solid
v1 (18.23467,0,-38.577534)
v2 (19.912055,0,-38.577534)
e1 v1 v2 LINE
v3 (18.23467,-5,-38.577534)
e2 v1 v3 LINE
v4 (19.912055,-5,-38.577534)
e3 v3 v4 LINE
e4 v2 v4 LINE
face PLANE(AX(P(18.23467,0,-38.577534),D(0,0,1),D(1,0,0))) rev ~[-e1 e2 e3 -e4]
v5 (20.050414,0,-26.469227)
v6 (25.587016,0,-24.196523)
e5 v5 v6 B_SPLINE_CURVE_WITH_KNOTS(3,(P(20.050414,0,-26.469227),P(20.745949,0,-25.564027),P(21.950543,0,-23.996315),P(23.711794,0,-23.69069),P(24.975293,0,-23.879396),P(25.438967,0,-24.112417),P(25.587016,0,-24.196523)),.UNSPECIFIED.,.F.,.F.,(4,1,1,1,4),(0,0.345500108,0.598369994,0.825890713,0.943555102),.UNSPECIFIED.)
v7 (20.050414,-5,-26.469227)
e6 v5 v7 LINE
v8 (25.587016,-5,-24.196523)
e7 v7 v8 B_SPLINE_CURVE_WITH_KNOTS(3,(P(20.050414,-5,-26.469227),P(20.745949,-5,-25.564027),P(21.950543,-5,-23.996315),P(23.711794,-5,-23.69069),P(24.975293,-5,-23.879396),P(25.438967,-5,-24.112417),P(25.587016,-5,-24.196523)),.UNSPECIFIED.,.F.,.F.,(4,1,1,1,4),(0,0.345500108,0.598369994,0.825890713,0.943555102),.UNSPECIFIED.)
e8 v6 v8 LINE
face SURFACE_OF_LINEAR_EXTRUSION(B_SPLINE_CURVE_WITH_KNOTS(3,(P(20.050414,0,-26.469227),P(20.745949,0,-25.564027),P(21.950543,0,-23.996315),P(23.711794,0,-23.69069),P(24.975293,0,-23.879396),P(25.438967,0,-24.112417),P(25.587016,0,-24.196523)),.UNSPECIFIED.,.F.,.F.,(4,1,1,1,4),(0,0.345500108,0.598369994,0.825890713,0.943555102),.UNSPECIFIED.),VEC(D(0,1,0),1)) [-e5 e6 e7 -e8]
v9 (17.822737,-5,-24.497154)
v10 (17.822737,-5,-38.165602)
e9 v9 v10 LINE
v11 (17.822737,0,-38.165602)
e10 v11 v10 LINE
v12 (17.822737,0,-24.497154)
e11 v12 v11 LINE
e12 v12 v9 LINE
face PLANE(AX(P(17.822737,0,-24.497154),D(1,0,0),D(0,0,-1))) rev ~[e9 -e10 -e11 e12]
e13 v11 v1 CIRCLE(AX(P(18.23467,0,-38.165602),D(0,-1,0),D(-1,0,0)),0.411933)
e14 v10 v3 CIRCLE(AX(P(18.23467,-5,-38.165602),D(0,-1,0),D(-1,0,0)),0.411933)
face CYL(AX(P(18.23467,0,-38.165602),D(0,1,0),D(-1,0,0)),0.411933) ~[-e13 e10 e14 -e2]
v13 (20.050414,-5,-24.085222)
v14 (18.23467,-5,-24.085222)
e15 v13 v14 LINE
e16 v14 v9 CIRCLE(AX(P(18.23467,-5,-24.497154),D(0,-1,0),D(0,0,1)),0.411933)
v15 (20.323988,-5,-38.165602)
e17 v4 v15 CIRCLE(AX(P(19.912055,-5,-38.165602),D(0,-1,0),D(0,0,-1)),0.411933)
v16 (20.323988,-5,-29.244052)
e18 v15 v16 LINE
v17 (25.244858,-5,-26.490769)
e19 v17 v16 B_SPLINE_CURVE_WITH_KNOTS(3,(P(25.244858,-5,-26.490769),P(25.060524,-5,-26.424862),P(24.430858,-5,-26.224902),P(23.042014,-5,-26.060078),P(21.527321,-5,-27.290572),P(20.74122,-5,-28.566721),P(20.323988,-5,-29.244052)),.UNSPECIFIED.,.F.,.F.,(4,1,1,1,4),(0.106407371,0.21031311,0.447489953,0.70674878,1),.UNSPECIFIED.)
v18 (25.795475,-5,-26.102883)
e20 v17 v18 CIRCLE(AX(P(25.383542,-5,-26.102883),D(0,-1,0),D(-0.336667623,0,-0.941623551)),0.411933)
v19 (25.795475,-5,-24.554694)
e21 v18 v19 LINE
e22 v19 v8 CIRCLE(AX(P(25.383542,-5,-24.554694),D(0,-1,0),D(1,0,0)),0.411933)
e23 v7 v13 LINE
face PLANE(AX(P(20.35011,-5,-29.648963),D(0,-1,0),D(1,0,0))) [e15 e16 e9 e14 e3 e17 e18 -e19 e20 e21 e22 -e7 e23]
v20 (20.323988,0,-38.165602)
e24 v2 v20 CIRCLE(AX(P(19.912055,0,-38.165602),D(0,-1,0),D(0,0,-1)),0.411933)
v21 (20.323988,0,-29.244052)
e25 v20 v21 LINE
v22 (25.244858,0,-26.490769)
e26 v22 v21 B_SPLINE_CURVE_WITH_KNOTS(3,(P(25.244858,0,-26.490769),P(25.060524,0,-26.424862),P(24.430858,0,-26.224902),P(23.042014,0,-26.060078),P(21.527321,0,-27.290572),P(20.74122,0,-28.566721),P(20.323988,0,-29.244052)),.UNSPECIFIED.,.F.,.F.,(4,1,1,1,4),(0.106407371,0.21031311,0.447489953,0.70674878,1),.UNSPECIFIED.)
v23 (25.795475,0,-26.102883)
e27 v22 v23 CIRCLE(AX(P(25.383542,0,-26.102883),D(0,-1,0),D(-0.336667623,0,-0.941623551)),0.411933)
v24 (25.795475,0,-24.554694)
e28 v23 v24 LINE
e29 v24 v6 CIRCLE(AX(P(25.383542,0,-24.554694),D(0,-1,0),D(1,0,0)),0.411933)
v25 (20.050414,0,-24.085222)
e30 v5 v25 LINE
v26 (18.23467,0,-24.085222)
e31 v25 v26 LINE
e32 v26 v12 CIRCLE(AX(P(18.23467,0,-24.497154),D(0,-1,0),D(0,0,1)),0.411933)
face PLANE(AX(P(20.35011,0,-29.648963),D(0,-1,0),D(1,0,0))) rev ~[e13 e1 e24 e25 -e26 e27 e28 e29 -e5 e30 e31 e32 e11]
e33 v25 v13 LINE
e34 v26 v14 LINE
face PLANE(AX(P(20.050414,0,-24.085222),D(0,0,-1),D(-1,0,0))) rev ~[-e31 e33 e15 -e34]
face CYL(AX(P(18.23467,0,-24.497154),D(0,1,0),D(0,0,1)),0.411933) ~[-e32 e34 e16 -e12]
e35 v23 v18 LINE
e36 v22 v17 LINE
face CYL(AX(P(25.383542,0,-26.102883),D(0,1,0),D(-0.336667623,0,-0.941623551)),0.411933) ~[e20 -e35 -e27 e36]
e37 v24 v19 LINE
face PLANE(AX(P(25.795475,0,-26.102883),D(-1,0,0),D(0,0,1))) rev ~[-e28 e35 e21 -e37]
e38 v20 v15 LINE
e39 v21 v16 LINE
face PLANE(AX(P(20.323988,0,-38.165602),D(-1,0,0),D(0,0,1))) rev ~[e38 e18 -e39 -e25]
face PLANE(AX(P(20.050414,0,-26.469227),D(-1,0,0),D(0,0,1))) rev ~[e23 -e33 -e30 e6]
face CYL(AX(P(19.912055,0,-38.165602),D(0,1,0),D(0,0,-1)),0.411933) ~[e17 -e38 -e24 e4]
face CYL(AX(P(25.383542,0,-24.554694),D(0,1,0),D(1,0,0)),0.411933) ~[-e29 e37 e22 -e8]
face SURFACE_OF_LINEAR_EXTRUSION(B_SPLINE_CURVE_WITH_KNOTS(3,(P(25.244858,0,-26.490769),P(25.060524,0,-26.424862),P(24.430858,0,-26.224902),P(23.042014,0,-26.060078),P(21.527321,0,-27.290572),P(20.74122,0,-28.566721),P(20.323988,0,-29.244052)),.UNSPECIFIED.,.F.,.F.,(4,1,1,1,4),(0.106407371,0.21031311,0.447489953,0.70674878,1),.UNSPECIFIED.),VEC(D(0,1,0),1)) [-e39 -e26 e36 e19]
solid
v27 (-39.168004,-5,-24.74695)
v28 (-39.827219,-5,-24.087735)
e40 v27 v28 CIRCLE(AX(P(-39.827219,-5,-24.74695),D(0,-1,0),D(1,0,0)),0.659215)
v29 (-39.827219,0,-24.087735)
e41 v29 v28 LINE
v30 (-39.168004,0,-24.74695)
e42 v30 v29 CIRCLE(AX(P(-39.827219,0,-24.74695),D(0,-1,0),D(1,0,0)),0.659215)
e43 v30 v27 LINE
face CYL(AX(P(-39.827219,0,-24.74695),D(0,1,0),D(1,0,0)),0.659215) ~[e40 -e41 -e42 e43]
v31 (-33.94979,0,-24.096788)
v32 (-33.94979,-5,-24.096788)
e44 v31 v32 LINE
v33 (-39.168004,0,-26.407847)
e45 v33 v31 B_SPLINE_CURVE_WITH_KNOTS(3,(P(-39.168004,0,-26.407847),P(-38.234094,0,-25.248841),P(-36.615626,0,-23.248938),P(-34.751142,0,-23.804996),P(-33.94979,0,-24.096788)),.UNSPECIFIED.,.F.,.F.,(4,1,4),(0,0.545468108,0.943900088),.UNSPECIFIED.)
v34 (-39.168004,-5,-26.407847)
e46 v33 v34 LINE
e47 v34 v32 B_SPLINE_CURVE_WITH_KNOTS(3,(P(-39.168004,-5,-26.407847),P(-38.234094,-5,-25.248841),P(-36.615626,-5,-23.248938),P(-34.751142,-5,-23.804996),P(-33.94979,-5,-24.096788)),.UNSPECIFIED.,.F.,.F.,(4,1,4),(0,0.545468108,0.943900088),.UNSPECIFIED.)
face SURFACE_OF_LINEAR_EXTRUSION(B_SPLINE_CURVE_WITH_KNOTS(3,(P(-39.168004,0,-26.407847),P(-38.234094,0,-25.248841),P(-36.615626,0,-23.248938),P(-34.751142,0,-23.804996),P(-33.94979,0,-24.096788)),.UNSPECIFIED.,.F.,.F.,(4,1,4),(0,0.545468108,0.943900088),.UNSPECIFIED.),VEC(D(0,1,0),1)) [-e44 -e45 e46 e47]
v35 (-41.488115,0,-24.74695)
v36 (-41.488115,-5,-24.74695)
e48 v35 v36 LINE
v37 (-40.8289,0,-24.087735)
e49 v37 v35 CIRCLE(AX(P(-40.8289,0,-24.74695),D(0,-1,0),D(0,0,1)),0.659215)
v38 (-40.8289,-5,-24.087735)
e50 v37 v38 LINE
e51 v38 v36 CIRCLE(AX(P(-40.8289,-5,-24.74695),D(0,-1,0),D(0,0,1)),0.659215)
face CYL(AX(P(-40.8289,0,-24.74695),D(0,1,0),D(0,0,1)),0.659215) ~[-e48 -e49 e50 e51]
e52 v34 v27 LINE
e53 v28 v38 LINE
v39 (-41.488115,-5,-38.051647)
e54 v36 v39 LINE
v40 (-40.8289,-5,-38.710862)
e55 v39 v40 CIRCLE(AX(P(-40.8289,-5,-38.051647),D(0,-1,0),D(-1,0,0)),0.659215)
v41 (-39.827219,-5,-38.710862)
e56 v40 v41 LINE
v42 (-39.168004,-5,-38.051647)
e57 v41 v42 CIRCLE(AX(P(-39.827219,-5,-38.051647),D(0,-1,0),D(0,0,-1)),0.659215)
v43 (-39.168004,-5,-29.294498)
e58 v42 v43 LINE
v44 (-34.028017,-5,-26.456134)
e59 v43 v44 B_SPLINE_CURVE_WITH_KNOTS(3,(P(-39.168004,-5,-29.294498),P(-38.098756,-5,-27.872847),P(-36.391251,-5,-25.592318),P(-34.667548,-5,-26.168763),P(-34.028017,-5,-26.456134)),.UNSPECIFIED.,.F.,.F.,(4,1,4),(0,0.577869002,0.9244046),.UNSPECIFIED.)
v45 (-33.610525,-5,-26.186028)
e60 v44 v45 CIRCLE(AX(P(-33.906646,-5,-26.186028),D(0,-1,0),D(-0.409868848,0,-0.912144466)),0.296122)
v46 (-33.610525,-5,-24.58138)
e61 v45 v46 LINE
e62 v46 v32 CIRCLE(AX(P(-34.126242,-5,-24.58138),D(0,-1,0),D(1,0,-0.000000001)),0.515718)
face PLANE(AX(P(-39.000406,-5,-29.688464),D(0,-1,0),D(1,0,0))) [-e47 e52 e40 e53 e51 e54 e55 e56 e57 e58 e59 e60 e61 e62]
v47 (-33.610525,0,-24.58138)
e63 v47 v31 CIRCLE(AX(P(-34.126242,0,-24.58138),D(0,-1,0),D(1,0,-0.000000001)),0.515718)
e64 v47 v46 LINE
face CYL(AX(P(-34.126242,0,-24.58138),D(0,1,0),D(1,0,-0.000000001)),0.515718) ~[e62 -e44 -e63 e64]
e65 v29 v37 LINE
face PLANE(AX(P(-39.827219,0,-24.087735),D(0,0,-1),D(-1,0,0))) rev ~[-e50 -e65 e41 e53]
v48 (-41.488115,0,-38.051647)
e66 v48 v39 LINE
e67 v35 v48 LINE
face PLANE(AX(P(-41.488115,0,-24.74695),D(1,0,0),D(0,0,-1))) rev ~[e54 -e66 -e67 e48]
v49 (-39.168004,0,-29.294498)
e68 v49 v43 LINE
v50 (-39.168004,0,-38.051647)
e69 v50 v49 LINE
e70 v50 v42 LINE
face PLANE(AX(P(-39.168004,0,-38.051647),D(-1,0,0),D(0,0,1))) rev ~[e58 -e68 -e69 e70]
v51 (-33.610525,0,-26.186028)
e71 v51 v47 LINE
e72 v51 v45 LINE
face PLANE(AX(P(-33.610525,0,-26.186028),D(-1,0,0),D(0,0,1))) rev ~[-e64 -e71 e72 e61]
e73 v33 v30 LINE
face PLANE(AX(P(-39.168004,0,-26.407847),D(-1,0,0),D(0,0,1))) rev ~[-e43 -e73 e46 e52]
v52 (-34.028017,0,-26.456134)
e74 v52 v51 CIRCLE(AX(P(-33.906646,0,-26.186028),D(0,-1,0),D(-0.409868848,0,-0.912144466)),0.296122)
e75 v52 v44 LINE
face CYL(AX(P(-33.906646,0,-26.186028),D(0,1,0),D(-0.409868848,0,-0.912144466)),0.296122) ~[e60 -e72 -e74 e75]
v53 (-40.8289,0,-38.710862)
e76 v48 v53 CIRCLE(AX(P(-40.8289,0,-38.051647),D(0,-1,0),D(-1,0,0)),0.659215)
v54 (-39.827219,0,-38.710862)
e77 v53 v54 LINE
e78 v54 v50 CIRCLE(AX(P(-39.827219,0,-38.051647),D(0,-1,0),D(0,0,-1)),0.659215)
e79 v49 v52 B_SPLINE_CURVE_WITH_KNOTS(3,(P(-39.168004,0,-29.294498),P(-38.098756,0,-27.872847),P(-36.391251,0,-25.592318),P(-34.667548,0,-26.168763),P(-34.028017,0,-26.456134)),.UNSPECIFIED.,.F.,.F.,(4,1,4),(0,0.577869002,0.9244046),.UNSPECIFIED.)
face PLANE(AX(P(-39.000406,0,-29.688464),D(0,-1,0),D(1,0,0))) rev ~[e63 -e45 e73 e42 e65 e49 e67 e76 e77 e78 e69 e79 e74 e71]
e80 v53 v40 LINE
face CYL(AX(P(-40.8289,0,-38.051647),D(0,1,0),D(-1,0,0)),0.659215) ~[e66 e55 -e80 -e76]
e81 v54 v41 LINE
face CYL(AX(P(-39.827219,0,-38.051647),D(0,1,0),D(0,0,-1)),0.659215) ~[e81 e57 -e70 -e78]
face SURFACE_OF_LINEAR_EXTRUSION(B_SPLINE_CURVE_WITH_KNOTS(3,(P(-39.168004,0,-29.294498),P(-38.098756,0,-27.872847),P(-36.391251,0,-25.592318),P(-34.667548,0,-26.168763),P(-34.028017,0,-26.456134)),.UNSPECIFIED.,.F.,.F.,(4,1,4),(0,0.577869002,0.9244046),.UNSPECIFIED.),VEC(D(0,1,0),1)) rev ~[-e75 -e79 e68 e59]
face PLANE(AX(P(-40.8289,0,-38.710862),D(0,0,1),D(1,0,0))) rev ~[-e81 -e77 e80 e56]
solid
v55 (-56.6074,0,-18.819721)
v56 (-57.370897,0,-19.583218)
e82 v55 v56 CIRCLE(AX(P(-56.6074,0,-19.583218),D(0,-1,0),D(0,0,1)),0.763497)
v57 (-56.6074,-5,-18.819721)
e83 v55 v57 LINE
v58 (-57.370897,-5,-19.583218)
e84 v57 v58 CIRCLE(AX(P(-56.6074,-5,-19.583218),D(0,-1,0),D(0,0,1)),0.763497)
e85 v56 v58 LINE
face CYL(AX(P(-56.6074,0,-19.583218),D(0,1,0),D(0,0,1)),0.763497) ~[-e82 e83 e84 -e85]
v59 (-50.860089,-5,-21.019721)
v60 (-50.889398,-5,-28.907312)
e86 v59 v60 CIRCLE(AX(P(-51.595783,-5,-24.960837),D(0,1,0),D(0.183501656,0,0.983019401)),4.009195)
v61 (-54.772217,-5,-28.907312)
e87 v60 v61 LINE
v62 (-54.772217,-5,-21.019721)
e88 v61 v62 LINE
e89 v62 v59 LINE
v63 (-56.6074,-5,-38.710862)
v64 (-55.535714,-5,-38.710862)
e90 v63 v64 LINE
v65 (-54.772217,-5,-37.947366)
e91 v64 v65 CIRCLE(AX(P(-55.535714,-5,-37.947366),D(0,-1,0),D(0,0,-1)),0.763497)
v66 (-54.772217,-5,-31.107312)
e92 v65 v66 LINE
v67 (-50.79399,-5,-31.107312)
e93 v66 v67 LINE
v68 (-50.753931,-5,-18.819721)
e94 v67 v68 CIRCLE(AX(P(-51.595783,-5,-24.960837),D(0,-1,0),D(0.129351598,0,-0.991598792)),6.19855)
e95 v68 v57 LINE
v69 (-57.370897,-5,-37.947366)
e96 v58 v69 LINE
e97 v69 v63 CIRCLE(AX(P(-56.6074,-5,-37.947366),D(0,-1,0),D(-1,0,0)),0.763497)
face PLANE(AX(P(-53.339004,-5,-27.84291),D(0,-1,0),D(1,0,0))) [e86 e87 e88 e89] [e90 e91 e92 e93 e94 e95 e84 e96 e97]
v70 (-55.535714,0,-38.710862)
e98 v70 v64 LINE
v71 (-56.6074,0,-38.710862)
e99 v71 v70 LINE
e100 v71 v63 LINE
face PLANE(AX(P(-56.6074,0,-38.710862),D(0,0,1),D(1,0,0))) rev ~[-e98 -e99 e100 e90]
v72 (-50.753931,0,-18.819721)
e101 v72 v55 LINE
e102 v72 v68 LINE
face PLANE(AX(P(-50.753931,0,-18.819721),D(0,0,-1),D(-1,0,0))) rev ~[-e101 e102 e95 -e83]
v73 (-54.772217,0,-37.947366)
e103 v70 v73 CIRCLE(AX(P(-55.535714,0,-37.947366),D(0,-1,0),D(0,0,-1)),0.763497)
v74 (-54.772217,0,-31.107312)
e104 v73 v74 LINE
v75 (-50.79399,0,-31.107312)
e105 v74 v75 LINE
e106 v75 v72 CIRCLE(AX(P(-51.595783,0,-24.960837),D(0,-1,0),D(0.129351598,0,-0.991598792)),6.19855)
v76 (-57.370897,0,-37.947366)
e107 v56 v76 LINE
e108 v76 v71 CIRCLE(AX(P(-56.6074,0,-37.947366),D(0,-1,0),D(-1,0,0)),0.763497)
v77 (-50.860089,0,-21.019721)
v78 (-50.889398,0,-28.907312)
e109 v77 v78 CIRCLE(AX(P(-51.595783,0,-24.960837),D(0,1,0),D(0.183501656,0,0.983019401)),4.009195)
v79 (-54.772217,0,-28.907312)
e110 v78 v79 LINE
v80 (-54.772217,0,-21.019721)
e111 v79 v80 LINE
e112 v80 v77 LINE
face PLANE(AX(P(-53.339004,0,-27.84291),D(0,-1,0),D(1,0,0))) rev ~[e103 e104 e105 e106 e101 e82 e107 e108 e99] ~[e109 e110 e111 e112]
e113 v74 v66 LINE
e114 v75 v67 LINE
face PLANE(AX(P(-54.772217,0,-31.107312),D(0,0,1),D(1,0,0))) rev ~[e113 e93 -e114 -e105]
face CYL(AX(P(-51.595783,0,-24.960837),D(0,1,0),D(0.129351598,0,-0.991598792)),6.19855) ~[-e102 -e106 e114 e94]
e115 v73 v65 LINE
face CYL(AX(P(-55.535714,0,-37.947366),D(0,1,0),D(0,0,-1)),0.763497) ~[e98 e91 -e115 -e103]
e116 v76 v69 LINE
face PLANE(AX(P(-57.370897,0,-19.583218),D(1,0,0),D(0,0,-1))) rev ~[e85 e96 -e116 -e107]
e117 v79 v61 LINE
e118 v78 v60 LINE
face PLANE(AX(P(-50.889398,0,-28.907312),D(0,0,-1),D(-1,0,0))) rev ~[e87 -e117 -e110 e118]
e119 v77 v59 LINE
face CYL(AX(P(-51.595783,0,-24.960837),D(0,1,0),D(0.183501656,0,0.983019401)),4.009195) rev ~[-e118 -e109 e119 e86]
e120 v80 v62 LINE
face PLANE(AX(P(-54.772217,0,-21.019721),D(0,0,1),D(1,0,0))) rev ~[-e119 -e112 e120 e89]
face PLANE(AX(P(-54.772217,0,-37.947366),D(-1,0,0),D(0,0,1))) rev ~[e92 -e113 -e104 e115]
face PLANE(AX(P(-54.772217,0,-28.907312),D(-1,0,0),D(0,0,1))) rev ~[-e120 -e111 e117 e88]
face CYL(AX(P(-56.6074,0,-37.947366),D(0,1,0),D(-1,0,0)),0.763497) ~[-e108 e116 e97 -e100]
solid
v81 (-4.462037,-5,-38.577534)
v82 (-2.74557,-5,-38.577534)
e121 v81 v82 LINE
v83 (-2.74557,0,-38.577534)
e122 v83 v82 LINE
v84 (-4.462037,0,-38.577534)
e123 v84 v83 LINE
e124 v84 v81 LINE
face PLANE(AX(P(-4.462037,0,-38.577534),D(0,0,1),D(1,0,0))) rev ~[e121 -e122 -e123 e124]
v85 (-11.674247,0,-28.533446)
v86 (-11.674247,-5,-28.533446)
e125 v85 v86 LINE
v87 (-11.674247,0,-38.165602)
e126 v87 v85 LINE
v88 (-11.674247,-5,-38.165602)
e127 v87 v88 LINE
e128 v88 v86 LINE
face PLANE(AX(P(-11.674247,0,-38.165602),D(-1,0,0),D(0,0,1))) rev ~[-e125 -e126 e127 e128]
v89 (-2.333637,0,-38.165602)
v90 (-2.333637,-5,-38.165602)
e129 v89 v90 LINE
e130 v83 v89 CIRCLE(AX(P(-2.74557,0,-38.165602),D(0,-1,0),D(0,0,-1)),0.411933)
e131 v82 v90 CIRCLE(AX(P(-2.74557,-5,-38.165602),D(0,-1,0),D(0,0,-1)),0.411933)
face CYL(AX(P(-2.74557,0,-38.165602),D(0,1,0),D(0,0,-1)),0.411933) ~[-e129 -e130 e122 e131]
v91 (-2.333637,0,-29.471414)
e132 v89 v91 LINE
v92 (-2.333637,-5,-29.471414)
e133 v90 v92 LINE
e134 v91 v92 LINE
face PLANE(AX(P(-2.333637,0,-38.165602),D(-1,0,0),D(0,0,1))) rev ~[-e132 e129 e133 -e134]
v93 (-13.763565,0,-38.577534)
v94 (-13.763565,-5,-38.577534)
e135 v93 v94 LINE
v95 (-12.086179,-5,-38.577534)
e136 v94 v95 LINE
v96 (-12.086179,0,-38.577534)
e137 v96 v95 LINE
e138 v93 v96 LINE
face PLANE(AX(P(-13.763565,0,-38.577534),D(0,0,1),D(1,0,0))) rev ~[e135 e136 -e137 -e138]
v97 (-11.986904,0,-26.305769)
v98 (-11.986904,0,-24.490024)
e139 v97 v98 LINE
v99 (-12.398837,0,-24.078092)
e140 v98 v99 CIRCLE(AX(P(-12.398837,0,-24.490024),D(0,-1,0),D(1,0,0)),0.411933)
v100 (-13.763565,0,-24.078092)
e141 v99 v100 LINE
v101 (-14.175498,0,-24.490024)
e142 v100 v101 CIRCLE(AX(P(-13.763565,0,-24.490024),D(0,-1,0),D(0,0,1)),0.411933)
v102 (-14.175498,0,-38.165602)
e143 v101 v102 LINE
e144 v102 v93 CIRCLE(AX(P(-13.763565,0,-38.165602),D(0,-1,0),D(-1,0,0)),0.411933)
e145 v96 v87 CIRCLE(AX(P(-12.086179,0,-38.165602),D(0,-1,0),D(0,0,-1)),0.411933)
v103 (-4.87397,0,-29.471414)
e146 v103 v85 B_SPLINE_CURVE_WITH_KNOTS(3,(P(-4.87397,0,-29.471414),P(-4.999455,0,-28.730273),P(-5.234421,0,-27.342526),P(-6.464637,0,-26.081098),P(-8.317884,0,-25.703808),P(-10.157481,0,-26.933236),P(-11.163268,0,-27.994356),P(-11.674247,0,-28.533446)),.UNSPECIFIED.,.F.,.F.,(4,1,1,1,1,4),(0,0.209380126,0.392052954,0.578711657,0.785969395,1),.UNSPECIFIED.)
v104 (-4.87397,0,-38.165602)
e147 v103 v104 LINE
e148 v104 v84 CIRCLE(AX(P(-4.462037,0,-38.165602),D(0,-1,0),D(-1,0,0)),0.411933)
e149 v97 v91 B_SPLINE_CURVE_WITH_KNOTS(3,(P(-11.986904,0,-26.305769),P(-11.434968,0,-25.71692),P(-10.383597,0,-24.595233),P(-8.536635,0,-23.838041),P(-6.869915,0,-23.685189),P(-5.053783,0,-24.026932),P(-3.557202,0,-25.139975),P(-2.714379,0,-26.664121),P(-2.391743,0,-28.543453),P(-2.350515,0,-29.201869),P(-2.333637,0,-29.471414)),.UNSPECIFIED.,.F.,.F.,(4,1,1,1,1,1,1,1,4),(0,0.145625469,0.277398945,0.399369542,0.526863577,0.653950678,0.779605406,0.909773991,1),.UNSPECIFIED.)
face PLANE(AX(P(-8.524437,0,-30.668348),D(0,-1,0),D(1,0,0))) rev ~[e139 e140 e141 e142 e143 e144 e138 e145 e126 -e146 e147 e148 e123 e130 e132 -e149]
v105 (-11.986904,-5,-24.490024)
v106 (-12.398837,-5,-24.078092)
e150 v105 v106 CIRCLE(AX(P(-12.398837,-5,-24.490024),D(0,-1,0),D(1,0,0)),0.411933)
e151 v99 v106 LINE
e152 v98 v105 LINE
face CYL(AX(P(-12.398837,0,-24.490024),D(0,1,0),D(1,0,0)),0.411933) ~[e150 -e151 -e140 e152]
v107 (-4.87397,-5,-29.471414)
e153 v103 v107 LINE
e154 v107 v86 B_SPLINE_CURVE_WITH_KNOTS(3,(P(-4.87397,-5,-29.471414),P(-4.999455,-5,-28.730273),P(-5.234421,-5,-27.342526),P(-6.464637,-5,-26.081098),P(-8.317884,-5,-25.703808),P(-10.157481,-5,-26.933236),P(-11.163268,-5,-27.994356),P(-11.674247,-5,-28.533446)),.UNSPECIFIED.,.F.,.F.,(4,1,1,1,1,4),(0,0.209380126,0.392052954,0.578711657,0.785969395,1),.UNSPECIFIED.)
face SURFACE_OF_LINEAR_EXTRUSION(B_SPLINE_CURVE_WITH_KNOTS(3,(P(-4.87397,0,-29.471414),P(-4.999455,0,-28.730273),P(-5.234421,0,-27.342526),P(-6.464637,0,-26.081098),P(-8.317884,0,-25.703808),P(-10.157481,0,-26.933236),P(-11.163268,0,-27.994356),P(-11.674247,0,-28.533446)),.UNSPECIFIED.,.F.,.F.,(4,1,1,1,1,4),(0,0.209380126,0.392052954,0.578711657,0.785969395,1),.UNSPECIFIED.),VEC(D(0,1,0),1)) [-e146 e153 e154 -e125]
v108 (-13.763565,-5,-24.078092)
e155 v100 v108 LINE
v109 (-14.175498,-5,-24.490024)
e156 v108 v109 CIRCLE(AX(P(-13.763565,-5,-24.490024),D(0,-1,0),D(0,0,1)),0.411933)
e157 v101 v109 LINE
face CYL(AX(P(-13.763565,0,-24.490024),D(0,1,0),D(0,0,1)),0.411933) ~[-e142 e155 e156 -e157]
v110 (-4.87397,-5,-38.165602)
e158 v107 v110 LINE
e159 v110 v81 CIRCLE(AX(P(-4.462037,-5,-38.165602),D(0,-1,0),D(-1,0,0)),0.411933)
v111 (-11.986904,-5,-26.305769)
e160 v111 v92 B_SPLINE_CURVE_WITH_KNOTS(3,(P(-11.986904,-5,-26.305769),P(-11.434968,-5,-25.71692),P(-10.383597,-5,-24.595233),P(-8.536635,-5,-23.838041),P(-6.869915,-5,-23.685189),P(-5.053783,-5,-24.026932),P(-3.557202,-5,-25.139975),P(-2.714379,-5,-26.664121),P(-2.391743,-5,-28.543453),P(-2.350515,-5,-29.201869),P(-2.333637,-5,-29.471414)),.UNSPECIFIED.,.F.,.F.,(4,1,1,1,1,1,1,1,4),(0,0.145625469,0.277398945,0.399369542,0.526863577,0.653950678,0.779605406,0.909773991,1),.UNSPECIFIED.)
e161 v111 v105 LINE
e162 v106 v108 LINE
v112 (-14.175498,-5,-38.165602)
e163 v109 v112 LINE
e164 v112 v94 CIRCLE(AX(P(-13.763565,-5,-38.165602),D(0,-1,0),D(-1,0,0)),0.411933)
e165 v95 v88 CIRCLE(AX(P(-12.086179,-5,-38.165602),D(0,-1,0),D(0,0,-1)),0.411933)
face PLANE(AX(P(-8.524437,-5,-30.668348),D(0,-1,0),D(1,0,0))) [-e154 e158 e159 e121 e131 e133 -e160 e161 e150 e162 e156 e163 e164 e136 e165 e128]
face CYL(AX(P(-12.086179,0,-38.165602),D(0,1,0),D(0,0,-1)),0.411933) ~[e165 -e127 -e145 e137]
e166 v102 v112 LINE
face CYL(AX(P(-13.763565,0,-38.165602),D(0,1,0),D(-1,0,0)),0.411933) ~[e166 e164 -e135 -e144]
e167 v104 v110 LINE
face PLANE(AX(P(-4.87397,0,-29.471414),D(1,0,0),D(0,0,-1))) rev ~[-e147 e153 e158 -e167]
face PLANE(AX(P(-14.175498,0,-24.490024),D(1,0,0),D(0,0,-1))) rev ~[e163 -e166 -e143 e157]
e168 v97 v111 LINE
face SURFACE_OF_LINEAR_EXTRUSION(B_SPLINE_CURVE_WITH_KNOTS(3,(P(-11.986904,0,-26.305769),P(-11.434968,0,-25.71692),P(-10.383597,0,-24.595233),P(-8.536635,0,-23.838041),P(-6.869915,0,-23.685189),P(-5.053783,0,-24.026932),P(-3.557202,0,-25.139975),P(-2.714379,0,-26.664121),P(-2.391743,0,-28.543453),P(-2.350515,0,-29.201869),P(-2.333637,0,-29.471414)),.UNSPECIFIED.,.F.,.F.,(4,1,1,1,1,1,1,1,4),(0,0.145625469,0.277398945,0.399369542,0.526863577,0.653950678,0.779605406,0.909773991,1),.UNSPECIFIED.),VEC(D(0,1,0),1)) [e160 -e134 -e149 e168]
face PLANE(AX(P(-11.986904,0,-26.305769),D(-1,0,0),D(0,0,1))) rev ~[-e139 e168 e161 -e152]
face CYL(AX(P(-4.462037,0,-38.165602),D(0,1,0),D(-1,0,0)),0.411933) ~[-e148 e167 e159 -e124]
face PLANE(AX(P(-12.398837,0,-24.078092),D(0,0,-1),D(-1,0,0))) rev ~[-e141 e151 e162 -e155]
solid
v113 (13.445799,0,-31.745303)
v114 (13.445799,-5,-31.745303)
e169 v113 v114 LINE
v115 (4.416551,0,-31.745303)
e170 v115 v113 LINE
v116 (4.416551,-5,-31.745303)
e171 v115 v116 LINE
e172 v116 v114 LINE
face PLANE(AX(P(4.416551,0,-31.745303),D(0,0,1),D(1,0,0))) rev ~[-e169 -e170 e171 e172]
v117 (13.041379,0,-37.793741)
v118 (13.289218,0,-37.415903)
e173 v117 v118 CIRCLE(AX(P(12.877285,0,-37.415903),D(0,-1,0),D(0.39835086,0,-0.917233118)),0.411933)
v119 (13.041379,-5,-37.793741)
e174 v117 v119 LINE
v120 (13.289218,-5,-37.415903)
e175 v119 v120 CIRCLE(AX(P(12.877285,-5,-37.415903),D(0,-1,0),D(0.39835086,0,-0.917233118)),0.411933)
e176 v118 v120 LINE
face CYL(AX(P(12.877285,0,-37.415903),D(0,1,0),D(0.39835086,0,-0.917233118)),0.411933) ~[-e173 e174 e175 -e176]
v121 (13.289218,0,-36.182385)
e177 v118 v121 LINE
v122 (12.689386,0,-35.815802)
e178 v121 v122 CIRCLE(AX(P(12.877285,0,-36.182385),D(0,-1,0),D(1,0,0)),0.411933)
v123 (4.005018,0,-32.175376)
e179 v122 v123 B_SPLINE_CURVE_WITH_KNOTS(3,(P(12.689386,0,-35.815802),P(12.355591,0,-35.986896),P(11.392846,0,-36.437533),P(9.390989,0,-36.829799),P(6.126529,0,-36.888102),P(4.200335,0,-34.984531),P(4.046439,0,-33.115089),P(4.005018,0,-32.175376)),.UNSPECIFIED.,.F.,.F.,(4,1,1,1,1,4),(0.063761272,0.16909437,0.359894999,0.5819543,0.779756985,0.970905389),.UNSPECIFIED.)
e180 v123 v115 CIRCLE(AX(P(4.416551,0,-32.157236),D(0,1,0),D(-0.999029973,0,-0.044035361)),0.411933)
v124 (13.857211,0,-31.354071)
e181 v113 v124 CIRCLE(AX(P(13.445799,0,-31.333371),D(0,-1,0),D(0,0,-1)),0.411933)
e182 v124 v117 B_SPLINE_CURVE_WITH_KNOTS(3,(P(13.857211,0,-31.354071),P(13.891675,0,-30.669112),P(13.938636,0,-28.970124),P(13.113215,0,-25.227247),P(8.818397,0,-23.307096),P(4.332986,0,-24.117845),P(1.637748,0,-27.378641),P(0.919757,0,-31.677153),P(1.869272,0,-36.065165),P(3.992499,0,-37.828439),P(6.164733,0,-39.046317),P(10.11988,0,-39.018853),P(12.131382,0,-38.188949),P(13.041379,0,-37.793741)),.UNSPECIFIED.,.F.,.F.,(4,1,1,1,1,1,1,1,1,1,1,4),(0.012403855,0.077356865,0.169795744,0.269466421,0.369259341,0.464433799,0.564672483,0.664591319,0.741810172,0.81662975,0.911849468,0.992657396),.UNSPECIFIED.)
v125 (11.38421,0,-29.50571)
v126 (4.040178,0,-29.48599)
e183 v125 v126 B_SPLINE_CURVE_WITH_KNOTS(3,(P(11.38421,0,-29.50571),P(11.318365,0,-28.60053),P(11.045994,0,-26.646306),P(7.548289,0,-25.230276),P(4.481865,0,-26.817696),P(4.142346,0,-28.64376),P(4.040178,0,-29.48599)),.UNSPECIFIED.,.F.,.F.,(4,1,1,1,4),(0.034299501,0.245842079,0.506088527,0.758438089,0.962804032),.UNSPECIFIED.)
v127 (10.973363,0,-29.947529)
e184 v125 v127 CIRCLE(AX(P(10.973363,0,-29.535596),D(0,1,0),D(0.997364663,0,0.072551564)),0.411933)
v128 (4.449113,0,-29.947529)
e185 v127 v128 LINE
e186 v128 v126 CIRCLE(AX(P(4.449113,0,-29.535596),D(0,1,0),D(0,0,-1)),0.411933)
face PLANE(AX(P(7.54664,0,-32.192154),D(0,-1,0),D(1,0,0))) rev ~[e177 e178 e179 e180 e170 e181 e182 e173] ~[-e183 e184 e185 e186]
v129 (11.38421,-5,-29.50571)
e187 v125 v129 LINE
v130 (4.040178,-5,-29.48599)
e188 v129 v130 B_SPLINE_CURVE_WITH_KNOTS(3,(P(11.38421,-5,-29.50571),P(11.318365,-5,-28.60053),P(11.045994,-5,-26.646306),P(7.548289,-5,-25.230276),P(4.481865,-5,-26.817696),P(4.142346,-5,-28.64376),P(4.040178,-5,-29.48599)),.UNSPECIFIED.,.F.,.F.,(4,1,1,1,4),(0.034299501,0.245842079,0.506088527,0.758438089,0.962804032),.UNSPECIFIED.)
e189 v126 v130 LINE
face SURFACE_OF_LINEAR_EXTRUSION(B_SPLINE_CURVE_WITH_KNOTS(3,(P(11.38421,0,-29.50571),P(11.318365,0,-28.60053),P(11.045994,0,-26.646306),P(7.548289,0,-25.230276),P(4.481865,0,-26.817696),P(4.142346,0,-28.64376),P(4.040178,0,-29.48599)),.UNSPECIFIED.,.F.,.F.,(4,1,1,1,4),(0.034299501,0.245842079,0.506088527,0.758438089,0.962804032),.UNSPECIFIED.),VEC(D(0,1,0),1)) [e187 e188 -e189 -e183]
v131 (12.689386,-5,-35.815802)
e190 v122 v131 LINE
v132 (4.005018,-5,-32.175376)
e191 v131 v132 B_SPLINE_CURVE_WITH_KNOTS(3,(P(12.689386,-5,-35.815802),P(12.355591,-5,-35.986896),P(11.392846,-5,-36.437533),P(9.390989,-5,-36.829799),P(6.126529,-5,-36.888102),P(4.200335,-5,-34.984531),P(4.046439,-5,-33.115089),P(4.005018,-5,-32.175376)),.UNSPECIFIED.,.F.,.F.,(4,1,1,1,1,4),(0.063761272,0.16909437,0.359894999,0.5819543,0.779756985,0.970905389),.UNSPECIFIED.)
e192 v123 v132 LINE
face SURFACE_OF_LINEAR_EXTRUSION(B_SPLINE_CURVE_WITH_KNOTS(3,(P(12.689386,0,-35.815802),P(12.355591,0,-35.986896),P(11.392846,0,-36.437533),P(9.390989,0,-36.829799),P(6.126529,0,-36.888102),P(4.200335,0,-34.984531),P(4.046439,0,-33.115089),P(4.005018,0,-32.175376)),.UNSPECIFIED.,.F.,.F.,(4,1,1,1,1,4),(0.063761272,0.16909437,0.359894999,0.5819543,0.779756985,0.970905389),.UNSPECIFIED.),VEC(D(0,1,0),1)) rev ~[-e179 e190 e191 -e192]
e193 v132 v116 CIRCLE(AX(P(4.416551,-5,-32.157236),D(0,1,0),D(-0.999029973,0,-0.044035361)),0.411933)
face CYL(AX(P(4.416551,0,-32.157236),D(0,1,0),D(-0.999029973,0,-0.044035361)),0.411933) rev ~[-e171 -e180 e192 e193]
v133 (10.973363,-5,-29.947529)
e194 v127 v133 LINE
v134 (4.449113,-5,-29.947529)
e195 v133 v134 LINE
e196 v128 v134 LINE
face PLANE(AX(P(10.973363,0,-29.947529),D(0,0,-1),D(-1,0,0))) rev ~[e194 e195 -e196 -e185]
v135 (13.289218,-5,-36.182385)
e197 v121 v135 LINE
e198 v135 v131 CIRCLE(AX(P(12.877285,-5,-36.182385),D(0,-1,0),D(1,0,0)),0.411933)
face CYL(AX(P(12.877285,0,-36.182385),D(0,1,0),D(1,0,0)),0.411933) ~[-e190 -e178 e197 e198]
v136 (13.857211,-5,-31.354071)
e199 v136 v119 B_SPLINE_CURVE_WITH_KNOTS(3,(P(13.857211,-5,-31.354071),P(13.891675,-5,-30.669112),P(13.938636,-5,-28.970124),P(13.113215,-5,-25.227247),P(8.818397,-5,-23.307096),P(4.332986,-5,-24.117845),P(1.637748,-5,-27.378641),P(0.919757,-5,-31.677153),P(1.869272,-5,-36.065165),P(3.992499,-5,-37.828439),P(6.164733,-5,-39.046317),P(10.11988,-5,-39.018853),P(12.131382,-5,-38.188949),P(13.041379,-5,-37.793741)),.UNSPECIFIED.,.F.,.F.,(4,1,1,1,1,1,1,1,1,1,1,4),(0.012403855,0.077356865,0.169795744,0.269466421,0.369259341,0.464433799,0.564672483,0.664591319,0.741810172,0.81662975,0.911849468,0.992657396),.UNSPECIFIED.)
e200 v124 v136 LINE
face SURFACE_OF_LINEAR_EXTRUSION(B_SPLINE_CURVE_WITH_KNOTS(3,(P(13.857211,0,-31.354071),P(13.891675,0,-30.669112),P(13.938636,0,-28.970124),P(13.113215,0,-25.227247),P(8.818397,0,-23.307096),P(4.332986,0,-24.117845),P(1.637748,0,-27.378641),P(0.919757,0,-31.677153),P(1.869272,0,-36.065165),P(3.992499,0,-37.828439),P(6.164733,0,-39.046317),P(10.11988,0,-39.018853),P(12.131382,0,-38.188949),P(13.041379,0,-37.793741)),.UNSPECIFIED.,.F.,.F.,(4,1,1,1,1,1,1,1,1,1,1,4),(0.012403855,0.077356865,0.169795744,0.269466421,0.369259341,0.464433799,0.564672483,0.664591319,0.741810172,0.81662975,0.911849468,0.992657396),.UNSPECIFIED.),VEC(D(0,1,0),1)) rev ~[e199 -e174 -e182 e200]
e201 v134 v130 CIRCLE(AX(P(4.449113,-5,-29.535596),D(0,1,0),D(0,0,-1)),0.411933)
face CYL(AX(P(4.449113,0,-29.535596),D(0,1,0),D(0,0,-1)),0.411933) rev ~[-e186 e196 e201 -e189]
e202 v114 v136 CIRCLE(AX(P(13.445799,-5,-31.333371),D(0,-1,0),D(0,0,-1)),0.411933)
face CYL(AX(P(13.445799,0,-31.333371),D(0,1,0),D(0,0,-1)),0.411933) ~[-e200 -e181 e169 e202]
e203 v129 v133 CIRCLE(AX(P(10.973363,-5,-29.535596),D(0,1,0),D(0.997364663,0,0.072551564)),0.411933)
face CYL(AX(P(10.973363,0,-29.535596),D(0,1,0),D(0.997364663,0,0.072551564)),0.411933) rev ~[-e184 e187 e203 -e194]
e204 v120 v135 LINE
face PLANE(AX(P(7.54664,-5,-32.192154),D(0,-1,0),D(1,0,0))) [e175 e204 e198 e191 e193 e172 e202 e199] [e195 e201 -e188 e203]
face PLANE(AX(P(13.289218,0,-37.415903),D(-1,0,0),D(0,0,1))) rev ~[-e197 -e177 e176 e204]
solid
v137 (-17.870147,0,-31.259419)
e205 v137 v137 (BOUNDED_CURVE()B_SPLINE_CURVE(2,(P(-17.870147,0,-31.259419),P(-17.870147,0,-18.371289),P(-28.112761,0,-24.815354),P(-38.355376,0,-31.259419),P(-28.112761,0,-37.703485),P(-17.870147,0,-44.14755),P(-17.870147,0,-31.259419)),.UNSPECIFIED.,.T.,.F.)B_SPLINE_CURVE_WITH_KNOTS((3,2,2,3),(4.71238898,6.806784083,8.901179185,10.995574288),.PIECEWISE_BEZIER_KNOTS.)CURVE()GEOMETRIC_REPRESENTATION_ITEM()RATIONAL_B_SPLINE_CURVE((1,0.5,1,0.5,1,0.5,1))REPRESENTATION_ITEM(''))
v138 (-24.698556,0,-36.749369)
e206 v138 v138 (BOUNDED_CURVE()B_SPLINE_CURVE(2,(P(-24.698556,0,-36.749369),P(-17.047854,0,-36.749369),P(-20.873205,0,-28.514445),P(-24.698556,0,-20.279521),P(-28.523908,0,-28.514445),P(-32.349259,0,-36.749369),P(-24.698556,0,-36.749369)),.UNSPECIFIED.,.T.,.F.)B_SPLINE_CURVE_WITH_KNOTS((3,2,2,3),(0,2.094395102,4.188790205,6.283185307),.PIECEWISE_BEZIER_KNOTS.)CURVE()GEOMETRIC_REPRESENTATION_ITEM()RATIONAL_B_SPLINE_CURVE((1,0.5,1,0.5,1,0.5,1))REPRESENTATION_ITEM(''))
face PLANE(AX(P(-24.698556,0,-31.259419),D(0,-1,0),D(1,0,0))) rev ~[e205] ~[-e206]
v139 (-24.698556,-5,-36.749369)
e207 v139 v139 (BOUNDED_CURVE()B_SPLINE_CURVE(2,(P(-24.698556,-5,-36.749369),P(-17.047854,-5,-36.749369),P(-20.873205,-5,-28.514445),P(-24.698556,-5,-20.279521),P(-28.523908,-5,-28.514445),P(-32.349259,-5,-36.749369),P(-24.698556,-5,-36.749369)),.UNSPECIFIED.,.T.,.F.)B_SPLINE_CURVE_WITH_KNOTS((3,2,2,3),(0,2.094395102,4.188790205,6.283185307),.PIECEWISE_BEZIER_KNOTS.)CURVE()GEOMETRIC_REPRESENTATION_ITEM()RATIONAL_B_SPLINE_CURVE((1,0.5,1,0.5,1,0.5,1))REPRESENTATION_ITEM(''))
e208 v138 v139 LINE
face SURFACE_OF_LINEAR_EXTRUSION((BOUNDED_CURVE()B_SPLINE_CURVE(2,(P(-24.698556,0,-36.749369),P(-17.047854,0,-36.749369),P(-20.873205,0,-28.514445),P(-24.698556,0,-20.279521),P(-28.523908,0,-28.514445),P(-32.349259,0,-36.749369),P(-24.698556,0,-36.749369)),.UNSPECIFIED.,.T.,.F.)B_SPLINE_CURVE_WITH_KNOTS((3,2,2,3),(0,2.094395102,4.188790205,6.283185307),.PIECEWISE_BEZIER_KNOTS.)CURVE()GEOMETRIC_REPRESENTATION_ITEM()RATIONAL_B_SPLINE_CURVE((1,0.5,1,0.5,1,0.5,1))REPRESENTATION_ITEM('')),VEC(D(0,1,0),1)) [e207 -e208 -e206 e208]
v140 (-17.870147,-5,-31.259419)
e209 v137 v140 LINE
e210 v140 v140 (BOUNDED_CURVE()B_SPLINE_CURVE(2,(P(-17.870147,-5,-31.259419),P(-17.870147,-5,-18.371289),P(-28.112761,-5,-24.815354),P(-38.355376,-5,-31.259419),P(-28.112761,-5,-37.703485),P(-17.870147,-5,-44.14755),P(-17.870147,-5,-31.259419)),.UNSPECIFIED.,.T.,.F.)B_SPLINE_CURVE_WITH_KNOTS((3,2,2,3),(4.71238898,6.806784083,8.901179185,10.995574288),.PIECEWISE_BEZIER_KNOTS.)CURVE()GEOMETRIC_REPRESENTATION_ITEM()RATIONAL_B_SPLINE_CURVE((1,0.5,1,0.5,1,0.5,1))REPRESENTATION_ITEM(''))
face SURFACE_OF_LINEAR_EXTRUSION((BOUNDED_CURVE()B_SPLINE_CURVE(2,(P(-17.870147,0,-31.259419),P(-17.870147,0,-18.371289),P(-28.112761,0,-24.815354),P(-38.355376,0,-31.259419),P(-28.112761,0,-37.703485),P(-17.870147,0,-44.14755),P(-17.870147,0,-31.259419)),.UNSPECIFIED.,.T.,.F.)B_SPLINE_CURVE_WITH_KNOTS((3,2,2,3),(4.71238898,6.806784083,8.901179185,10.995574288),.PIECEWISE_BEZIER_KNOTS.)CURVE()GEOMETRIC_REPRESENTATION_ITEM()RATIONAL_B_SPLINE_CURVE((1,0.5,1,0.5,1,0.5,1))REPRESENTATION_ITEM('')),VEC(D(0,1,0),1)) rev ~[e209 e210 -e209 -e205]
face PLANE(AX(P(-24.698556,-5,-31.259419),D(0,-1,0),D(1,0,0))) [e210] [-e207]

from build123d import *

# Parameters (mm, degrees)
F1_DEPTH = 5


with BuildPart() as f1:
    # F0 (on Front) → F1 (new body)
    with BuildSketch(Plane.XZ):
        with BuildLine():
            ThreePointArc((-57.3708973825, -37.9473655111), (-57.1472743217, -38.4872393373), (-56.6074004954, -38.7108623981))
            Line((-56.6074004954, -38.7108623981), (-55.5357137137, -38.7108623981))
            ThreePointArc((-55.5357137137, -38.7108623981), (-54.9958398875, -38.4872393373), (-54.7722168267, -37.9473655111))
            Line((-54.7722168267, -37.9473655111), (-54.7722168267, -31.1073120683))
            Line((-54.7722168267, -31.1073120683), (-50.7939904928, -31.1073120683))
            ThreePointArc((-50.7939904928, -31.1073120683), (-45.3972658857, -24.9810454764), (-50.7539313278, -18.8197214156))
            Line((-50.7539313278, -18.8197214156), (-54.7722168267, -18.8197214156))
            Line((-54.7722168267, -18.8197214156), (-56.6074004954, -18.8197214156))
            ThreePointArc((-56.6074004954, -18.8197214156), (-57.1472743217, -19.0433444764), (-57.3708973825, -19.5832183027))
            Line((-57.3708973825, -19.5832183027), (-57.3708973825, -37.9473655111))
        make_face()
        with BuildLine():
            Line((-50.8893977888, -28.9073120803), (-54.7722168267, -28.9073120803))
            Line((-54.7722168267, -28.9073120803), (-54.7722168267, -21.0197214037))
            Line((-54.7722168267, -21.0197214037), (-50.8600889766, -21.0197214037))
            ThreePointArc((-50.8600889766, -21.0197214037), (-47.5866158875, -24.975734809), (-50.8893977888, -28.9073120803))
        make_face(mode=Mode.SUBTRACT)
    extrude(amount=F1_DEPTH)


with BuildPart() as f1b:
    # F0 (on Front) → F1, piece 2 (new body)
    with BuildSketch(Plane.XZ):
        with BuildLine():
            ThreePointArc((-41.4881147444, -38.0516472624), (-41.2950351014, -38.5177827551), (-40.8288996087, -38.7108623981))
            Line((-40.8288996087, -38.7108623981), (-39.8272190823, -38.7108623981))
            ThreePointArc((-39.8272190823, -38.7108623981), (-39.3610835895, -38.5177827551), (-39.1680039465, -38.0516472624))
            Line((-39.1680039465, -38.0516472624), (-39.1680039465, -29.2944982648))
            add(Edge.make_bspline(
                [(-39.1680039465, -29.2944982648), (-38.0987558941, -27.8728468146), (-36.3912511699, -25.5923184323), (-34.6675477543, -26.1687633921), (-34.0280171963, -26.4561341571)],
                knots=[0, 0, 0, 0, 0.5778690025, 0.9244045996, 0.9244045996, 0.9244045996, 0.9244045996], degree=3))
            ThreePointArc((-34.0280171963, -26.4561341571), (-33.745793127, -26.43465328), (-33.6105246097, -26.1860284993))
            Line((-33.6105246097, -26.1860284993), (-33.6105246097, -24.5813801146))
            ThreePointArc((-33.6105246097, -24.5813801146), (-33.7037707797, -24.2856056732), (-33.9497898688, -24.0967883642))
            add(Edge.make_bspline(
                [(-39.1680039465, -26.407847181), (-38.2340937948, -25.2488408954), (-36.6156261235, -23.2489376965), (-34.7511420572, -23.8049955085), (-33.9497898688, -24.0967883642)],
                knots=[0, 0, 0, 0, 0.5454681083, 0.9439000882, 0.9439000882, 0.9439000882, 0.9439000882], degree=3))
            Line((-39.1680039465, -26.407847181), (-39.1680039465, -24.7469496562))
            ThreePointArc((-39.1680039465, -24.7469496562), (-39.3610835895, -24.2808141634), (-39.8272190823, -24.0877345204))
            Line((-39.8272190823, -24.0877345204), (-40.8288996087, -24.0877345204))
            ThreePointArc((-40.8288996087, -24.0877345204), (-41.2950351014, -24.2808141634), (-41.4881147444, -24.7469496562))
            Line((-41.4881147444, -24.7469496562), (-41.4881147444, -38.0516472624))
        make_face()
    extrude(amount=F1_DEPTH)


with BuildPart() as f1c:
    # F0 (on Front) → F1, piece 3 (new body)
    with BuildSketch(Plane.XZ):
        with BuildLine():
            add(Edge.make_bspline(
                [(-17.8701467812, -31.2594193965), (-17.8701467812, -18.3712887289), (-28.1127612107, -24.8153540627), (-38.3553756401, -31.2594193965), (-28.1127612107, -37.7034847303), (-17.8701467812, -44.1475500641), (-17.8701467812, -31.2594193965)],
                knots=[4.7123889804, 4.7123889804, 4.7123889804, 6.8067840828, 6.8067840828, 8.9011791852, 8.9011791852, 10.9955742876, 10.9955742876, 10.9955742876], degree=2, weights=[1, 0.5, 1, 0.5, 1, 0.5, 1]))
        make_face()
        with BuildLine():
            add(Edge.make_bspline(
                [(-24.6985564008, -36.7493685335), (-17.0478540379, -36.7493685335), (-20.8732052194, -28.514444828), (-24.6985564008, -20.2795211226), (-28.5239075823, -28.514444828), (-32.3492587637, -36.7493685335), (-24.6985564008, -36.7493685335)],
                knots=[0, 0, 0, 2.0943951024, 2.0943951024, 4.1887902048, 4.1887902048, 6.2831853072, 6.2831853072, 6.2831853072], degree=2, weights=[1, 0.5, 1, 0.5, 1, 0.5, 1]))
        make_face(mode=Mode.SUBTRACT)
    extrude(amount=F1_DEPTH)


with BuildPart() as f1d:
    # F0 (on Front) → F1, piece 4 (new body)
    with BuildSketch(Plane.XZ):
        with BuildLine():
            Line((-14.1754979268, -24.4900242861), (-14.1754979268, -38.1656015788))
            ThreePointArc((-14.1754979268, -38.1656015788), (-14.0548456383, -38.4568819699), (-13.7635652472, -38.5775342584))
            Line((-13.7635652472, -38.5775342584), (-12.0861794304, -38.5775342584))
            ThreePointArc((-12.0861794304, -38.5775342584), (-11.7948990392, -38.4568819699), (-11.6742467508, -38.1656015788))
            Line((-11.6742467508, -38.1656015788), (-11.6742467508, -28.5334456712))
            add(Edge.make_bspline(
                [(-4.8739695922, -29.4714141637), (-4.9994554012, -28.7302729222), (-5.2344207875, -27.3425260578), (-6.4646368475, -26.0810983197), (-8.3178840867, -25.7038084645), (-10.157481335, -26.933236038), (-11.1632684135, -27.9943560736), (-11.6742467508, -28.5334456712)],
                knots=[0, 0, 0, 0, 0.2093801261, 0.3920529545, 0.5787116566, 0.7859693947, 1, 1, 1, 1], degree=3))
            Line((-4.8739695922, -29.4714141637), (-4.8739695922, -38.1656015788))
            ThreePointArc((-4.8739695922, -38.1656015788), (-4.7533173037, -38.4568819699), (-4.4620369126, -38.5775342584))
            Line((-4.4620369126, -38.5775342584), (-2.7455695409, -38.5775342584))
            ThreePointArc((-2.7455695409, -38.5775342584), (-2.4542891498, -38.4568819699), (-2.3336368613, -38.1656015788))
            Line((-2.3336368613, -38.1656015788), (-2.3336368613, -29.4714141637))
            add(Edge.make_bspline(
                [(-11.9869038463, -26.3057686388), (-11.4349680147, -25.7169195681), (-10.383596865, -24.5952331525), (-8.5366345888, -23.8380413448), (-6.8699145349, -23.6851887001), (-5.0537828237, -24.0269315175), (-3.5572021599, -25.1399752972), (-2.7143793695, -26.6641212737), (-2.3917433236, -28.5434526787), (-2.3505150533, -29.2018690649), (-2.3336368613, -29.4714141637)],
                knots=[0, 0, 0, 0, 0.1456254693, 0.2773989445, 0.399369542, 0.5268635768, 0.6539506785, 0.7796054064, 0.9097739914, 1, 1, 1, 1], degree=3))
            Line((-11.9869038463, -26.3057686388), (-11.9869038463, -24.4900242861))
            ThreePointArc((-11.9869038463, -24.4900242861), (-12.1075561347, -24.198743895), (-12.3988365259, -24.0780916065))
            Line((-12.3988365259, -24.0780916065), (-13.7635652472, -24.0780916065))
            ThreePointArc((-13.7635652472, -24.0780916065), (-14.0548456383, -24.198743895), (-14.1754979268, -24.4900242861))
        make_face()
    extrude(amount=F1_DEPTH)


with BuildPart() as f1e:
    # F0 (on Front) → F1, piece 5 (new body)
    with BuildSketch(Plane.XZ):
        with BuildLine():
            ThreePointArc((4.0050182512, -32.1753757062), (4.1189267254, -31.8724412312), (4.416551345, -31.7453034222))
            Line((4.416551345, -31.7453034222), (13.445799094, -31.7453034222))
            ThreePointArc((13.445799094, -31.7453034222), (13.7296665689, -31.6318800209), (13.8572113429, -31.3540708383))
            add(Edge.make_bspline(
                [(13.8572113429, -31.3540708383), (13.8916748851, -30.6691115213), (13.9386361123, -28.9701238336), (13.1132151668, -25.2272473933), (8.8183967179, -23.3070957763), (4.3329861411, -24.1178454973), (1.6377476442, -27.3786409834), (0.9197573058, -31.6771530912), (1.8692719943, -36.0651649271), (3.9924985766, -37.8284389041), (6.1647334458, -39.0463171662), (10.1198804911, -39.0188526834), (12.1313817105, -38.1889492423), (13.0413788944, -37.793740922)],
                knots=[0.0124038547, 0.0124038547, 0.0124038547, 0.0124038547, 0.077356865, 0.1697957444, 0.2694664205, 0.3692593406, 0.4644337989, 0.5646724831, 0.6645913193, 0.7418101724, 0.8166297501, 0.9118494682, 0.9926573964, 0.9926573964, 0.9926573964, 0.9926573964], degree=3))
            ThreePointArc((13.0413788944, -37.793740922), (13.2217297142, -37.6418373064), (13.2892178372, -37.4159026258))
            Line((13.2892178372, -37.4159026258), (13.2892178372, -36.1823846709))
            ThreePointArc((13.2892178372, -36.1823846709), (13.0920953905, -35.830894847), (12.6893863479, -35.8158023885))
            add(Edge.make_bspline(
                [(12.6893863479, -35.8158023885), (12.3555910297, -35.986895608), (11.3928463144, -36.4375328647), (9.3909894908, -36.8297985887), (6.1265286013, -36.8881017657), (4.2003350261, -34.9845313228), (4.0464390456, -33.1150890124), (4.0050182512, -32.1753757062)],
                knots=[0.0637612716, 0.0637612716, 0.0637612716, 0.0637612716, 0.1690943703, 0.3598949991, 0.5819543, 0.7797569846, 0.9709053888, 0.9709053888, 0.9709053888, 0.9709053888], degree=3))
        make_face()
        with BuildLine():
            Line((10.9733633066, -29.9475286156), (4.4491132765, -29.9475286156))
            ThreePointArc((4.4491132765, -29.9475286156), (4.1407928852, -29.8087754902), (4.0401783645, -29.4859897847))
            add(Edge.make_bspline(
                [(11.3842104047, -29.5057095759), (11.3183646501, -28.6005295177), (11.0459944465, -26.6463060455), (7.5482890056, -25.2302755334), (4.4818647364, -26.8176958784), (4.1423456713, -28.6437599911), (4.0401783645, -29.4859897847)],
                knots=[0.0342995012, 0.0342995012, 0.0342995012, 0.0342995012, 0.2458420787, 0.5060885268, 0.7584380887, 0.9628040322, 0.9628040322, 0.9628040322, 0.9628040322], degree=3))
            ThreePointArc((11.3842104047, -29.5057095759), (11.2750251213, -29.816110966), (10.9733633066, -29.9475286156))
        make_face(mode=Mode.SUBTRACT)
    extrude(amount=F1_DEPTH)


with BuildPart() as f1f:
    # F0 (on Front) → F1, piece 6 (new body)
    with BuildSketch(Plane.XZ):
        with BuildLine():
            Line((17.8227368742, -24.4971544917), (17.8227368742, -38.1656015788))
            ThreePointArc((17.8227368742, -38.1656015788), (17.9433891627, -38.4568819699), (18.2346695538, -38.5775342584))
            Line((18.2346695538, -38.5775342584), (19.9120553706, -38.5775342584))
            ThreePointArc((19.9120553706, -38.5775342584), (20.2033357618, -38.4568819699), (20.3239880502, -38.1656015788))
            Line((20.3239880502, -38.1656015788), (20.3239880502, -29.2440522462))
            add(Edge.make_bspline(
                [(25.2448575727, -26.4907686655), (25.0605237593, -26.4248620441), (24.430858086, -26.2249022771), (23.0420140992, -26.0600782984), (21.5273213385, -27.2905724247), (20.7412203931, -28.5667212269), (20.3239880502, -29.2440522462)],
                knots=[0.1064073707, 0.1064073707, 0.1064073707, 0.1064073707, 0.2103131098, 0.4474899525, 0.7067487796, 1, 1, 1, 1], degree=3))
            ThreePointArc((25.2448575727, -26.4907686655), (25.6207759226, -26.4396450625), (25.7954746485, -26.102883153))
            Line((25.7954746485, -26.102883153), (25.7954746485, -24.5546942438))
            ThreePointArc((25.7954746485, -24.5546942438), (25.7395660464, -24.3474856804), (25.5870163694, -24.1965229149))
            add(Edge.make_bspline(
                [(20.0504139066, -26.4692269266), (20.7459490575, -25.5640268214), (21.9505430781, -23.9963150634), (23.7117938608, -23.6906900416), (24.975292694, -23.8793955565), (25.4389668875, -24.1124171332), (25.5870163694, -24.1965229149)],
                knots=[0, 0, 0, 0, 0.3455001076, 0.5983699936, 0.8258907133, 0.9435551019, 0.9435551019, 0.9435551019, 0.9435551019], degree=3))
            Line((20.0504139066, -26.4692269266), (20.0504139066, -24.0852218121))
            Line((20.0504139066, -24.0852218121), (18.2346695538, -24.0852218121))
            ThreePointArc((18.2346695538, -24.0852218121), (17.9433891627, -24.2058741006), (17.8227368742, -24.4971544917))
        make_face()
    extrude(amount=F1_DEPTH)


solid = Compound([f1.part, f1b.part, f1c.part, f1d.part, f1e.part, f1f.part])
